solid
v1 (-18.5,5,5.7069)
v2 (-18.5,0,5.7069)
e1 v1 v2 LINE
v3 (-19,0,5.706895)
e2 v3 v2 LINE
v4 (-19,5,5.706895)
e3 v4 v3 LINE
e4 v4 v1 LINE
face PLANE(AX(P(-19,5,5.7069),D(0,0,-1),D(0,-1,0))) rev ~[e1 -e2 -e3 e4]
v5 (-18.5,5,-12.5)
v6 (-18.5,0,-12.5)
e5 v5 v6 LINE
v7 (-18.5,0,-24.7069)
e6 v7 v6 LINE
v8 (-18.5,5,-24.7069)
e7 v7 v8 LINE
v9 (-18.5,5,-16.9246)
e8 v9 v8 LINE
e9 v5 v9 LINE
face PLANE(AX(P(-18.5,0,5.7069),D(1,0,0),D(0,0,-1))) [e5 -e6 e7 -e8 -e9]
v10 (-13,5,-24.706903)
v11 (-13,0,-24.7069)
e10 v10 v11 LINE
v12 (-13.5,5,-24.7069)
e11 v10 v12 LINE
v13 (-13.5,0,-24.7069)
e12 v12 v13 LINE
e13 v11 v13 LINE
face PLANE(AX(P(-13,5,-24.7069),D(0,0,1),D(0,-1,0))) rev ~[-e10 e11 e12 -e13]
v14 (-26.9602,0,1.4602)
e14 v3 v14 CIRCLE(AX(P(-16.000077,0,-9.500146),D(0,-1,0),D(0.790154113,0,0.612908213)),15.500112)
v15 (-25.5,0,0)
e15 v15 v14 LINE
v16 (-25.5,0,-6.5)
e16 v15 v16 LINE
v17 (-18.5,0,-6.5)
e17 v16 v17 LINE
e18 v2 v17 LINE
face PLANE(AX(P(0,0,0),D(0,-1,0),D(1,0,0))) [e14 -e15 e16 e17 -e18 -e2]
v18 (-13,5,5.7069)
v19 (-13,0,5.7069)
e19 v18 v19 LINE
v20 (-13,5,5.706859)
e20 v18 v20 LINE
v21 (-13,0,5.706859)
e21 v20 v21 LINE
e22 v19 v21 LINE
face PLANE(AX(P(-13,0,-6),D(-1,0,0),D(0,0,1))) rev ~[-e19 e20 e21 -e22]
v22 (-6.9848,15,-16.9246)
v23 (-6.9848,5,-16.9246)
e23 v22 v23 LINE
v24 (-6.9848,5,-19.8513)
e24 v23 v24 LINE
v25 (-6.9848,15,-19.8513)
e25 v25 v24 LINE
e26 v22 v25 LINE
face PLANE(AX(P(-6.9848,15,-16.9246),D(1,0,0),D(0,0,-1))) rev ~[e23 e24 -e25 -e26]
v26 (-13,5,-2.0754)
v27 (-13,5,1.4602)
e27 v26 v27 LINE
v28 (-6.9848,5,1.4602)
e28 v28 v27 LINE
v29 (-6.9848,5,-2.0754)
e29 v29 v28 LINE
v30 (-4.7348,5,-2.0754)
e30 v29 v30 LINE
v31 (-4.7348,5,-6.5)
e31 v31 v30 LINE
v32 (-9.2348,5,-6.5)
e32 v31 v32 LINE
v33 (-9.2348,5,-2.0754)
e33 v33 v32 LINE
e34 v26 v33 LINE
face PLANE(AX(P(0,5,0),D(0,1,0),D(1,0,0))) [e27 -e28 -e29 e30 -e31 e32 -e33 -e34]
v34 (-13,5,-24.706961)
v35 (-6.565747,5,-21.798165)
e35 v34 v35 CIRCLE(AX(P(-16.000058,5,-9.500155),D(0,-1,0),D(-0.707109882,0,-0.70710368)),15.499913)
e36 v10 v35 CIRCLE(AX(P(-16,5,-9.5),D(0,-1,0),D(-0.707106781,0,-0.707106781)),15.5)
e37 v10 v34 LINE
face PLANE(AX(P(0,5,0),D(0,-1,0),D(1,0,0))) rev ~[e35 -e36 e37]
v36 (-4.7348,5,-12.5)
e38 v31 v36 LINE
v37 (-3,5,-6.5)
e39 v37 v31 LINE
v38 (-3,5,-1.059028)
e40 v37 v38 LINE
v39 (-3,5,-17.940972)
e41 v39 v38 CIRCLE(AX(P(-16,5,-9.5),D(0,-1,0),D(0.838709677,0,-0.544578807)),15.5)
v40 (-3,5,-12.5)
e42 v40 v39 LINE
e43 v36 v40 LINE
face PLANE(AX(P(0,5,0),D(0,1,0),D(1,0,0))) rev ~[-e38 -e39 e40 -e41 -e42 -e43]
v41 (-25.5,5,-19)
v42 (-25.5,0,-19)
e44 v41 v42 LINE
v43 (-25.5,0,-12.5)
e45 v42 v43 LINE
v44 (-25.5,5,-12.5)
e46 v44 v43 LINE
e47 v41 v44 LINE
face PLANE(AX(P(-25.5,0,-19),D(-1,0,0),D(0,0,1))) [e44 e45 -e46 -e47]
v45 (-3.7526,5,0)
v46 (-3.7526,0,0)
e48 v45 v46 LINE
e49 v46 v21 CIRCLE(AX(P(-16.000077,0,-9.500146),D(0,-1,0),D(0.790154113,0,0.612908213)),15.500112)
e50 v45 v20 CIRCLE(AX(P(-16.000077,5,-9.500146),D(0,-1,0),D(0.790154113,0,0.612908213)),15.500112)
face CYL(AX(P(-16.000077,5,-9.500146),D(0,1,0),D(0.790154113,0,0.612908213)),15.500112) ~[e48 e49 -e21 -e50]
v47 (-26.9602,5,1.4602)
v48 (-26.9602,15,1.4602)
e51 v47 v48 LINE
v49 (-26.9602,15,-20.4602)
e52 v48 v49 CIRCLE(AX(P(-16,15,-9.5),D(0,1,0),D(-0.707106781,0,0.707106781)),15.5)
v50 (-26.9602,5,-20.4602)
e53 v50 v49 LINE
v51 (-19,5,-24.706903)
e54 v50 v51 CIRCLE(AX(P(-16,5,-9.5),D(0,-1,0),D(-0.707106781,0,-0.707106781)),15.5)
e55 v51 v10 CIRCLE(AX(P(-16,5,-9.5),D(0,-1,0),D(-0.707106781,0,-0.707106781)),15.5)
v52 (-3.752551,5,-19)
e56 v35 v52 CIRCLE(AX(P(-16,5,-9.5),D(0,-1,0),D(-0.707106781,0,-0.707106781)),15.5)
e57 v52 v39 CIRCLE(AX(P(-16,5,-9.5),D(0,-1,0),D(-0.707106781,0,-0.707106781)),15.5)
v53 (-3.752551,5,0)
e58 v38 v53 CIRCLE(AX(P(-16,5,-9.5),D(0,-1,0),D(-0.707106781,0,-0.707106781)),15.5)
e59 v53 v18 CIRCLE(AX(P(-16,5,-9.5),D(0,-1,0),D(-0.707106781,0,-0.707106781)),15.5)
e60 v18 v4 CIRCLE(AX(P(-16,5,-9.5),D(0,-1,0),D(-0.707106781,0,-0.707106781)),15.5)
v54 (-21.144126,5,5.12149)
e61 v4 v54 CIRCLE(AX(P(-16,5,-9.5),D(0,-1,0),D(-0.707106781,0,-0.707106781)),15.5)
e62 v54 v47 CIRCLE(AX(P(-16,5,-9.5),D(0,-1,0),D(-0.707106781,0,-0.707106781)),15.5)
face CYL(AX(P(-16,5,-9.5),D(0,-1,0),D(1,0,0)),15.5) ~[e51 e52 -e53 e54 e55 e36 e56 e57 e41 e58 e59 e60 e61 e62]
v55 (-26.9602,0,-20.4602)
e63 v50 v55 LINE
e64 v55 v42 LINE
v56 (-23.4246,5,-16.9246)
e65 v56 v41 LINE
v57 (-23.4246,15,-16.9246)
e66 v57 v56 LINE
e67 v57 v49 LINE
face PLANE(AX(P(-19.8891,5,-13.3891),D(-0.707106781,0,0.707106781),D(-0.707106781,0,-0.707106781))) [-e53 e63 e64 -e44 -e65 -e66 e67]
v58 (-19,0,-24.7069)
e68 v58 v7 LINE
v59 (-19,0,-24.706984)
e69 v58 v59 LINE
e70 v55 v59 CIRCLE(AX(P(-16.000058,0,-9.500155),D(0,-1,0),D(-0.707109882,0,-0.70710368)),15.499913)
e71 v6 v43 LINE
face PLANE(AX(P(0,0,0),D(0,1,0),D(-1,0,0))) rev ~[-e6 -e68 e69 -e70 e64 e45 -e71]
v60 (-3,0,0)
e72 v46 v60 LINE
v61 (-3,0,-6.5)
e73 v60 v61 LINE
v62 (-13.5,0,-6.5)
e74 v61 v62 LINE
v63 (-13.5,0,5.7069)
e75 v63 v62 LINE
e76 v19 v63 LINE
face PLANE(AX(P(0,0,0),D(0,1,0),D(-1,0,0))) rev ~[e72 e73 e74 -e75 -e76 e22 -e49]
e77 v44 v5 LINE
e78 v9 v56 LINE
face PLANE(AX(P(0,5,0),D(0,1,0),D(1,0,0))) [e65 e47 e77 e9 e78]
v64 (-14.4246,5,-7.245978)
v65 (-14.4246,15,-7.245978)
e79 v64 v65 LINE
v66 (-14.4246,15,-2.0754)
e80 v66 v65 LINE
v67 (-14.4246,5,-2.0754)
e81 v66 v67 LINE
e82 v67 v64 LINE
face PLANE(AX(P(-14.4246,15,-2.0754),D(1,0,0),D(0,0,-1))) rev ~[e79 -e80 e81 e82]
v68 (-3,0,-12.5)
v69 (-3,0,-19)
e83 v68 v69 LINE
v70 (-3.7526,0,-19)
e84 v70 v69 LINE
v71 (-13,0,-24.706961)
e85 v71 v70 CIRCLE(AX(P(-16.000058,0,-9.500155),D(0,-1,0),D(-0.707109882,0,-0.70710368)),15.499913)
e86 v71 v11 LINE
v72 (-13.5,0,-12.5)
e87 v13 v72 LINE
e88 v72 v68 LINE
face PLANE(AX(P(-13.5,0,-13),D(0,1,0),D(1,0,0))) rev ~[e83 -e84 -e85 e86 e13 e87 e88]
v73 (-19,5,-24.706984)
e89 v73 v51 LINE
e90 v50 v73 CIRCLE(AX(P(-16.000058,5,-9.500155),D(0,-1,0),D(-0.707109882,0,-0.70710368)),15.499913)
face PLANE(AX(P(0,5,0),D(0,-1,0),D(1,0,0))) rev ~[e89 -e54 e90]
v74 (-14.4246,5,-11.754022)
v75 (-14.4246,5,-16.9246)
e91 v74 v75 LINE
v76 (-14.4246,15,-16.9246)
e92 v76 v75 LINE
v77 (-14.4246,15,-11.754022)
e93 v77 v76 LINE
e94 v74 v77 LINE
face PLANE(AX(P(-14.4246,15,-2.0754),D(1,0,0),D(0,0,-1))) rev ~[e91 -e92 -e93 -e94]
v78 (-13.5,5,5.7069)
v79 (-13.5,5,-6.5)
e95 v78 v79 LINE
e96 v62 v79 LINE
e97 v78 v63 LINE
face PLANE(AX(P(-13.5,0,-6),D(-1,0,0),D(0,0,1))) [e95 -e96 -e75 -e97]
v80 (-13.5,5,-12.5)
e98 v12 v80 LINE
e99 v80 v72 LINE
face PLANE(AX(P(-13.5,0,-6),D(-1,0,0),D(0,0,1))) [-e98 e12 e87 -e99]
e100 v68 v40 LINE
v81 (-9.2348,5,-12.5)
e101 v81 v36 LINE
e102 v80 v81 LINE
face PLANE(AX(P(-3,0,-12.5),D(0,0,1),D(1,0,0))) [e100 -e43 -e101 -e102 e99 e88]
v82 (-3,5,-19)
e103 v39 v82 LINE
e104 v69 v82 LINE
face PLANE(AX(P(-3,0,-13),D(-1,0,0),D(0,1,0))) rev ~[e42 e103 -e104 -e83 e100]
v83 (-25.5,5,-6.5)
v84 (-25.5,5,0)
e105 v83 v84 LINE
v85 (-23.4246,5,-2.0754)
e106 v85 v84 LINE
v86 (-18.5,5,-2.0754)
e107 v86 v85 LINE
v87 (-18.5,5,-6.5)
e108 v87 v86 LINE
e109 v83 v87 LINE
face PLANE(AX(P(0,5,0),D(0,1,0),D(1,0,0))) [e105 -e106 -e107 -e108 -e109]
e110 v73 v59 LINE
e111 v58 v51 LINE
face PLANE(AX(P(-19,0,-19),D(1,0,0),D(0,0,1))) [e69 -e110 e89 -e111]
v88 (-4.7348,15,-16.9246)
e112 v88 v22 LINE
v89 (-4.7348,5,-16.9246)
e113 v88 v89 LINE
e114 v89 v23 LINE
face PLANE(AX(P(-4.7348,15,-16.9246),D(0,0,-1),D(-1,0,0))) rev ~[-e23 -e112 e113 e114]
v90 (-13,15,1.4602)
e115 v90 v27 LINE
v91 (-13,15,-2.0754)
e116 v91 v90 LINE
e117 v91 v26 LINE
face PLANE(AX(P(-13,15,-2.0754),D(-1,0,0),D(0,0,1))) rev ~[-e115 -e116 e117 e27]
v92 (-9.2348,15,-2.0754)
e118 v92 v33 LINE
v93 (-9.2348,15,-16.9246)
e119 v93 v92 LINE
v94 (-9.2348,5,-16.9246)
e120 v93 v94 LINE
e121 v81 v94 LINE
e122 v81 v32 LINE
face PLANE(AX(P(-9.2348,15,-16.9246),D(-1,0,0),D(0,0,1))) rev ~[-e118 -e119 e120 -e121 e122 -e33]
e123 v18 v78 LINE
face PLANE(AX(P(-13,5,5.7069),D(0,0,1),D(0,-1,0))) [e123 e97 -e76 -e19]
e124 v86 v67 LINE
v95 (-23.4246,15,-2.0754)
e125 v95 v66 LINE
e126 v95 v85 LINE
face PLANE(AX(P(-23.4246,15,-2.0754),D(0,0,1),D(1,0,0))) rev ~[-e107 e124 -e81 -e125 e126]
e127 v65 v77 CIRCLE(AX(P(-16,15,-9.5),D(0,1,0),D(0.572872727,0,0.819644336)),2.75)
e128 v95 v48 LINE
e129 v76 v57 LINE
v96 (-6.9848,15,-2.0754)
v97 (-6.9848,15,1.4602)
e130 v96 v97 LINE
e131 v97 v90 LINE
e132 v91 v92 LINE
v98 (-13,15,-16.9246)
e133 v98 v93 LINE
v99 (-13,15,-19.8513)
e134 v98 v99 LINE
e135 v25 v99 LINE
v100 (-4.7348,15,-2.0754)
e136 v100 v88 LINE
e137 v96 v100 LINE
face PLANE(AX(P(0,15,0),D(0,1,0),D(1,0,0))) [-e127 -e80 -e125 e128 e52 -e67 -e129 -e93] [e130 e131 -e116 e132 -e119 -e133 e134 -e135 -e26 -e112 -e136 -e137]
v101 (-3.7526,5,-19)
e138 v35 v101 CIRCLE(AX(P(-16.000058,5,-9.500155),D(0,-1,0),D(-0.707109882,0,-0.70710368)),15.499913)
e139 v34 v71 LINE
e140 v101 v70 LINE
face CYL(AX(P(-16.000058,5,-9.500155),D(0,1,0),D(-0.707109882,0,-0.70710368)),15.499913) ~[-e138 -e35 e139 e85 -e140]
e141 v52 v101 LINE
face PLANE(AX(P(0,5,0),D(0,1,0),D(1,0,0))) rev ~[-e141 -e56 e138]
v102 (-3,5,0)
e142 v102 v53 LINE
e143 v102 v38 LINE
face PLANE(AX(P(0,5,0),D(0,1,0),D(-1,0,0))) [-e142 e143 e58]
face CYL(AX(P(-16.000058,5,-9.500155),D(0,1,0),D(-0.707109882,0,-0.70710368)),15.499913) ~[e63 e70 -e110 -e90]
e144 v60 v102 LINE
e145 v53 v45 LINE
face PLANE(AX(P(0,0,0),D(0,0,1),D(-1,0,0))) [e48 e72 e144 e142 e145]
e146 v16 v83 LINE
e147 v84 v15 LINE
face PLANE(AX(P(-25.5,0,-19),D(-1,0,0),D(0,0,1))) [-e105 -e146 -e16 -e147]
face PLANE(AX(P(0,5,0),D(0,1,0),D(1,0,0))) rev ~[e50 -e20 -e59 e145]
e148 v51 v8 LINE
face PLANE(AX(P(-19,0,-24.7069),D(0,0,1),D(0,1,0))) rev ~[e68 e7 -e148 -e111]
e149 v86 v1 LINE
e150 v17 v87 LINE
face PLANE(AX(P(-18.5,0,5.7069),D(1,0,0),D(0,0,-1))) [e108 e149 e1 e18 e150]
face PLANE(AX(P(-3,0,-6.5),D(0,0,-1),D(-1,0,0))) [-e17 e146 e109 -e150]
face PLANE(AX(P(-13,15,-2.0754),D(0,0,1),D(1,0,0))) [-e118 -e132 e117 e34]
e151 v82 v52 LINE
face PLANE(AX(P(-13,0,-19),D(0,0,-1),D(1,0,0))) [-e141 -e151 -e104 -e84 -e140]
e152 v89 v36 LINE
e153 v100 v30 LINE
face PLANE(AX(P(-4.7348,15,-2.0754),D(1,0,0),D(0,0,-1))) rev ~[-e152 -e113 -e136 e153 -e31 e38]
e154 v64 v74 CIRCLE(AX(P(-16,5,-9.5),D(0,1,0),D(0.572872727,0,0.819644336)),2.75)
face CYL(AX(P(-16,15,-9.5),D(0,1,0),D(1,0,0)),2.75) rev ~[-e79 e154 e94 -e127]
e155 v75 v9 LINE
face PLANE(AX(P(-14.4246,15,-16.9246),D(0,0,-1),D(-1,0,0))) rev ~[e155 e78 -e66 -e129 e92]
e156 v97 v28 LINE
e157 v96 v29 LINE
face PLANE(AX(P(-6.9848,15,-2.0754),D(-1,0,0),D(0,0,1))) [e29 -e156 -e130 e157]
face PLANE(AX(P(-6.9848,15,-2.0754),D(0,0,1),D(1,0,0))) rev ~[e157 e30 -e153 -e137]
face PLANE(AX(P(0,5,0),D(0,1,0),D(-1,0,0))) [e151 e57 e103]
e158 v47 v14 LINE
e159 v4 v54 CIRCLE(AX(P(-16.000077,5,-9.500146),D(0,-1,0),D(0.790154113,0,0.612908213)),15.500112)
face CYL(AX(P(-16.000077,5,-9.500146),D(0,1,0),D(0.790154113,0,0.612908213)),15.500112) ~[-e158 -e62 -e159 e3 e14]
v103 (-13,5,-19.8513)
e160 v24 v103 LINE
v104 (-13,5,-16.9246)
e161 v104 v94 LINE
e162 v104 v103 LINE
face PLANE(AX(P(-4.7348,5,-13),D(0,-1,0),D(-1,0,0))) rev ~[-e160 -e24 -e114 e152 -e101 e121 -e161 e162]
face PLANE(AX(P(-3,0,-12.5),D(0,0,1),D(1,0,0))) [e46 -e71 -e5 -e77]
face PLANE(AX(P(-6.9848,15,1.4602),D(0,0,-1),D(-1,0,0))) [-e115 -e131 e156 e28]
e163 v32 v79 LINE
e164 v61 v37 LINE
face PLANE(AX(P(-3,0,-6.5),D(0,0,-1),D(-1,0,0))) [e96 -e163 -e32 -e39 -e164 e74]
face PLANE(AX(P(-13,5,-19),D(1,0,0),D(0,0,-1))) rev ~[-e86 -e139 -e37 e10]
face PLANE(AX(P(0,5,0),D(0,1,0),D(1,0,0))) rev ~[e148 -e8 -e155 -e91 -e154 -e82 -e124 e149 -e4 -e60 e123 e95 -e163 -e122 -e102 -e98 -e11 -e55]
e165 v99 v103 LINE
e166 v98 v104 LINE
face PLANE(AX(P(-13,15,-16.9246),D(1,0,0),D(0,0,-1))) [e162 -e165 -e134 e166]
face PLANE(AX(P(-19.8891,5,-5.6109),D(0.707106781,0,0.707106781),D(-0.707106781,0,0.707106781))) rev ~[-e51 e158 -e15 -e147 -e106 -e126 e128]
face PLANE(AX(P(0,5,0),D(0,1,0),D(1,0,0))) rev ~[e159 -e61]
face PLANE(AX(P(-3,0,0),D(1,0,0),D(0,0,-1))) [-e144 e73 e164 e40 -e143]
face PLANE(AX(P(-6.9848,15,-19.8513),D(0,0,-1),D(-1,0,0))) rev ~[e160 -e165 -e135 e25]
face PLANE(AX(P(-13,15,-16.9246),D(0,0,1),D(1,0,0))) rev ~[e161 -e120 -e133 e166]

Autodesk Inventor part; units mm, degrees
ref_plane "YZ Plane" through (0, 0, 0) normal (1, 0, 0) x (0, 1, 0)
ref_plane "XZ Plane" through (0, 0, 0) normal (0, 1, 0) x (-1, 0, 0)
ref_plane "XY Plane" through (0, 0, 0) normal (0, 0, 1) x (1, 0, 0)
sketch "Sketch5" plane through (0, 0, 0) normal (0, 1, 0) x (-1, 0, 0)
  line L0 (0, 0) -> (32, 0)
  line L1 (32, 0) -> (32, -19)
  line L2 (32, -19) -> (0, -19)
  line L3 (0, -19) -> (0, 0)
  line L4 (32, -19) -> (19, -19)
  line L5 (19, -19) -> (19, 0)
  line L6 (19, 0) -> (32, 0)
  line L7 (32, 0) -> (32, -19)
  line L8 (0, 0) -> (13, 0)
  line L9 (13, 0) -> (13, -19)
  line L10 (13, -19) -> (0, -19)
  line L11 (0, -19) -> (0, 0)
  line L12 (0, 0) -> (32, 0)
  line L13 (32, 0) -> (32, -6.75)
  line L14 (32, -6.75) -> (0, -6.75)
  line L15 (0, -6.75) -> (0, 0)
  line L16 (0, -19) -> (32, -19)
  line L17 (32, -19) -> (32, -12.25)
  line L18 (32, -12.25) -> (0, -12.25)
  line L19 (0, -12.25) -> (0, -19)
  circle A0 centre (16, -9.5) radius 4
  circle A1 centre (16, -9.5) radius 1
  line L20 (13, 0) -> (19, 0)
  line L21 (19, 0) -> (19, -19)
  line L22 (19, -19) -> (13, -19)
  line L23 (13, -19) -> (13, 0)
  point P0 (13, -12.1458)
  point P1 (13.0953, -12.25)
  point P2 (0, -12.25)
  point P3 (13, -19)
  point P4 (13.0953, -6.75)
  point P5 (13, -6.8542)
  point P6 (19, -6.8542)
  point P7 (18.9047, -6.75)
  point P8 (19, 0)
  point P9 (18.9047, -12.25)
  point P10 (19, -12.1458)
  point P11 (13, -12.25)
  point P12 (13, -6.75)
  point P13 (19, -6.75)
  point P14 (19, -12.25)
  dimension "d13" = 32
  dimension "d14" = 19
  dimension "d15" = 13
  dimension "d16" = 19
  dimension "d17" = 13
  dimension "d18" = 19
  dimension "d19" = 32
  dimension "d20" = 6.75
  dimension "d21" = 32
  dimension "d22" = 6.75
  dimension "d23" = 8
  dimension "d24" = 2
extrude "Extrusion2" add sketch "Sketch5" along normal blind 5 contours L0 L9 L14 L3 | L0 L5 L14 A0 L9 | L14 L9 A0 L18 L3 | L0 L1 L14 L5 | L14 A0 L9 | L18 L9 L2 L3 | L14 L1 L18 L5 A0 | L5 A0 L14 | L9 A0 | A0 L14 | L18 A0 L5 L2 L9 | L9 A0 L18 | A0 L5 | L18 A0 | L1 L2 L5 L18 | L5 L18 A0
sketch "Sketch6" plane through (0, 5, 0) normal (0, 1, 0) x (1, 0, 0)
  arc A0 (-18.9047, 6.75) -> (-19, 6.8542) centre (-16, 9.5) ccw projected
  circle A1 centre (-16, 9.5) radius 15.5
  line L0 (-16, 9.5) -> (-26.9602, 20.4602)
  line L1 (-16, 9.5) -> (-0.5, 9.5) construction
  line L2 (-16, 9.5) -> (-26.9602, -1.4602)
  line L3 (-16, 9.5) -> (-0.5, 9.5) construction
  line L4 (-26.9602, -1.4602) -> (-19.8891, 5.6109)
  line L5 (-19.8891, 5.6109) -> (-19.8891, 13.3891)
  circle A2 centre (-16, 9.5) radius 1
  point P0 (0, 0)
  dimension "d27" = 31
  dimension "d28" = 135
  dimension "d29" = 135
  dimension "d30" = 10
  dimension "d33" = 2
extrude "Extrusion3" add sketch "Sketch6" along normal blind 10 contours L2 A2 L0 A0 | L2 L5 A0 L0 A2 | A0 L0 A1 L2 | A0 L5 L0
sketch "Sketch7" plane through (0, 15, 0) normal (0, 1, 0) x (1, 0, 0)
  circle A0 centre (-16, 9.5) radius 1 projected
  circle A1 centre (-16, 9.5) radius 2.75
  point P0 (0, 0)
  dimension "d34" = 5.5
extrude "Extrusion4" cut sketch "Sketch7" against normal blind 10
sketch "Sketch8" plane through (0, 0, 0) normal (0, -1, 0) x (1, 0, 0)
  point P0 (0, 0)
sketch "Sketch9" plane through (0, 0, 0) normal (0, -1, 0) x (1, 0, 0)
  arc A0 (-3.7526, -19) -> (-3.7526, 0) centre (-16, -9.5) ccw projected
  point P0 (0, 0)
sketch "Sketch10" plane through (0, 0, 0) normal (0, -1, 0) x (1, 0, 0)
  line L0 (-32, 0) -> (-25.5, 0) projected
  line L1 (-32, 0) -> (-19, 0)
  line L2 (-19, 0) -> (-19, -6)
  line L3 (-19, -6) -> (-32, -6)
  line L4 (-32, -6) -> (-32, 0)
  line L5 (-32, -19) -> (-32, 0) projected
  line L6 (-32, -19) -> (-19, -19)
  line L7 (-19, -19) -> (-19, -13)
  line L8 (-19, -13) -> (-32, -13)
  line L9 (-32, -13) -> (-32, -19)
  line L10 (0, 0) -> (-13, 0)
  line L11 (-13, 0) -> (-13, -6)
  line L12 (-13, -6) -> (0, -6)
  line L13 (0, -6) -> (0, 0)
  line L14 (0, -19) -> (-3.7526, -19) projected
  line L15 (0, -19) -> (-13, -19)
  line L16 (-13, -19) -> (-13, -13)
  line L17 (-13, -13) -> (0, -13)
  line L18 (0, -13) -> (0, -19)
  line L19 (-19, -6) -> (-13, -6)
  line L20 (-13, -6) -> (-13, -13)
  line L21 (-13, -13) -> (-19, -13)
  line L22 (-19, -13) -> (-19, -6)
  line L23 (-19, 0) -> (-13, 0)
  line L24 (-13, 0) -> (-13, -6)
  line L25 (-13, -6) -> (-19, -6)
  line L26 (-19, -6) -> (-19, 0)
  line L27 (-13, -13) -> (-19, -13)
  line L28 (-19, -13) -> (-19, -19)
  line L29 (-19, -19) -> (-13, -19)
  line L30 (-13, -19) -> (-13, -13)
  line L31 (-32, -13) -> (-19, -13)
  line L32 (-19, -13) -> (-19, -6)
  line L33 (-19, -6) -> (-32, -6)
  line L34 (-32, -6) -> (-32, -13)
  line L35 (-13, -6) -> (0, -6)
  line L36 (0, -6) -> (0, -13)
  line L37 (0, -13) -> (-13, -13)
  line L38 (-13, -13) -> (-13, -6)
  point P0 (0, -6)
  dimension "d37" = 13
  dimension "d38" = 6
  dimension "d39" = 6
  dimension "d40" = 13
  dimension "d41" = 6
  dimension "d42" = 13
  dimension "d43" = 6
extrude "Extrusion5" cut sketch "Sketch10" against normal blind 5 contours L3 L22 L8 L5 | L23 L11 L19 L2 | L19 L20 L21 L22 | L12 L36 L17 L20 | L21 L16 L29 L7
sketch "Sketch11" plane through (0, 5, 0) normal (0, -1, 0) x (1, 0, 0)
  arc A0 (-3.7526, 0) -> (-26.9602, 1.4602) centre (-16, -9.5) ccw projected
  arc A1 (-26.9602, -20.4602) -> (-3.7526, -19) centre (-16, -9.5) ccw projected
  line L0 (-25.5, 0) -> (-26.9602, 1.4602) projected
  line L1 (-26.9602, -20.4602) -> (-25.5, -19) projected
  line L2 (-13, 0) -> (-3.7526, 0) projected
  line L3 (-19, -13) -> (-19.8891, -13) projected
  line L4 (-13, -13) -> (-13, -19) projected
  line L5 (-25.5, 0) -> (-19, 0) projected
  line L6 (-25.5, 0) -> (-3.7526, 0)
  line L7 (-19, -19) -> (-32, -19) projected
  line L8 (-19, -19) -> (-19, -13) projected
  line L9 (0, -19) -> (-13, -19) projected
  line L10 (-13, -13) -> (-13, -19) projected
  line L11 (-19.8891, -13.3891) -> (-25.5, -19) projected
  line L12 (-25.5, -19) -> (-3.7526, -19)
  line L13 (-19, 0) -> (-13, 0)
  line L14 (-13, 0) -> (-13, 7)
  line L15 (-13, 7) -> (-19, 7)
  line L16 (-19, 7) -> (-19, 0)
  line L17 (-19, -13) -> (-13, -13)
  line L18 (-13, -13) -> (-13, -25.2796)
  line L19 (-13, -25.2796) -> (-19, -25.2796)
  line L20 (-19, -25.2796) -> (-19, -13)
  point P0 (0, 0)
  point P1 (-19, -24.7069)
  point P2 (-13, -24.7069)
  point P3 (-13, 5.7069)
  point P4 (-19, 5.7069)
  dimension "d47" = 7
extrude "Extrusion6" add sketch "Sketch11" along normal blind 5 contours L2 L14 A0 | L16 L5 L0 A0 | L1 L7 L20 A1 | L18 L9 A1
sketch "Sketch12" plane through (0, 15, 0) normal (0, 1, 0) x (1, 0, 0)
  point P0 (0, 0)
sketch "Sketch14" plane through (0, 0, 0) normal (1, 0, 0) x (0, 0, -1)
  line L0 (0, 5) -> (6, 5) projected
  line L1 (6, 0) -> (6, 5) projected
  line L2 (0, 0) -> (6, 0) projected
  line L3 (0, 0) -> (0, 5) projected
  line L4 (13, 5) -> (13, 0) projected
  line L5 (13, 0) -> (19, 0) projected
  line L6 (19, 0) -> (19, 5) projected
  line L7 (13, 5) -> (19, 5) projected
  line L8 (-5.7069, 0) -> (6, 0) projected
  line L9 (0, 5) -> (6, 5)
  line L10 (6, 5) -> (6, 0)
  line L11 (6, 0) -> (0, 0)
  line L12 (0, 0) -> (0, 5)
  line L13 (13, 0) -> (24.7069, 0) projected
  line L14 (13, 0) -> (19, 0)
  line L15 (19, 0) -> (19, 5)
  line L16 (19, 5) -> (13, 5)
  line L17 (13, 5) -> (13, 0)
extrude "Extrusion8" cut sketch "Sketch14" against normal blind 3
sketch "Sketch16" plane through (-32, 0, -19) normal (-1, 0, 0) x (0, 0, 1)
  line L0 (0, 5) -> (6, 5) projected
  line L1 (0, 0) -> (0, 5) projected
  line L2 (0, 0) -> (6, 0) projected
  line L3 (6, 0) -> (6, 5) projected
  line L4 (13, 0) -> (19, 0) projected
  line L5 (13, 5) -> (13, 0) projected
  line L6 (13, 5) -> (19, 5) projected
  line L7 (19, 0) -> (19, 5) projected
  line L8 (0, 5) -> (0, 0) projected
  line L9 (6, 0) -> (6, 5) projected
  line L10 (0, 5) -> (6, 5)
  line L11 (6, 5) -> (6, 0)
  line L12 (6, 0) -> (0, 0)
  line L13 (0, 0) -> (0, 5)
  line L14 (13, 0) -> (13, 5) projected
  line L15 (19, 0) -> (19, 5) projected
  line L16 (13, 0) -> (19, 0)
  line L17 (19, 0) -> (19, 5)
  line L18 (19, 5) -> (13, 5)
  line L19 (13, 5) -> (13, 0)
extrude "Extrusion9" cut sketch "Sketch16" against normal blind 6.5
sketch "Sketch18" plane through (0, 15, 0) normal (0, 1, 0) x (1, 0, 0)
  line L0 (-19.8891, 5.6109) -> (-26.9602, -1.4602) projected
  line L1 (-26.9602, 20.4602) -> (-19.8891, 13.3891) projected
  line L2 (-23.4246, 2.0754) -> (-14.4246, 2.0754)
  line L3 (-14.4246, 2.0754) -> (-14.4246, 16.9246)
  line L4 (-14.4246, 16.9246) -> (-23.4246, 16.9246)
  line L5 (-23.4246, 16.9246) -> (-23.4246, 2.0754)
  line L6 (-9.2348, 2.0754) -> (-4.7348, 2.0754)
  line L7 (-4.7348, 2.0754) -> (-4.7348, 16.9246)
  line L8 (-4.7348, 16.9246) -> (-9.2348, 16.9246)
  line L9 (-9.2348, 16.9246) -> (-9.2348, 2.0754)
  line L10 (-13, 6) -> (-13, -5.7069) projected
  line L11 (-6.9848, -1.4602) -> (-13, -1.4602)
  line L12 (-13, -1.4602) -> (-13, 2.0754)
  line L13 (-13, 2.0754) -> (-6.9848, 2.0754)
  line L14 (-6.9848, 2.0754) -> (-6.9848, -1.4602)
  line L15 (-13, 13) -> (-13, 24.7069) projected
  line L16 (-6.9848, 19.8513) -> (-13, 19.8513)
  line L17 (-13, 19.8513) -> (-13, 16.9246)
  line L18 (-13, 16.9246) -> (-6.9848, 16.9246)
  line L19 (-6.9848, 16.9246) -> (-6.9848, 19.8513)
  point P0 (0, 0)
  dimension "d79" = 9
  dimension "d80" = 4.5
extrude "Extrusion12" cut sketch "Sketch18" against normal blind 10
sketch "Sketch19" plane through (-13, 0, -6) normal (-1, 0, 0) x (0, 0, 1)
  line L0 (11.7069, 5) -> (11.7069, 0) projected
  line L1 (11.7069, 0) -> (0, 0) projected
  line L2 (11.7069, 5) -> (0, 5)
  line L3 (0, 5) -> (0, 0)
  line L4 (0, 0) -> (11.7069, 0)
  line L5 (11.7069, 0) -> (11.7069, 5)
  line L6 (-7, 0) -> (-7, 5) projected
  line L7 (-7, 0) -> (-18.7069, 0) projected
  line L8 (-18.7069, 5) -> (-18.7069, 0) projected
  line L9 (-7, 5) -> (-10.9246, 5) projected
  line L10 (-7, 5) -> (-18.7069, 5)
  line L11 (-18.7069, 5) -> (-18.7069, 0)
  line L12 (-18.7069, 0) -> (-7, 0)
  line L13 (-7, 0) -> (-7, 5)
  point P0 (6, 0)
sketch "Sketch20" plane through (-19, 0, 5.7069) normal (1, 0, 0) x (0, 0, -1)
  line L0 (11.7069, 0) -> (0, 0) projected
  line L1 (11.7069, 0) -> (11.7069, 5) projected
  line L2 (0, 0) -> (11.7069, 0)
  line L3 (11.7069, 0) -> (11.7069, 5)
  line L4 (11.7069, 5) -> (0, 5)
  line L5 (0, 5) -> (0, 0)
  line L6 (18.7069, 0) -> (18.7069, 5) projected
  line L7 (22.6315, 5) -> (30.4138, 5) projected
  line L8 (18.7069, 0) -> (30.4138, 0)
  line L9 (30.4138, 0) -> (30.4138, 5)
  line L10 (30.4138, 5) -> (18.7069, 5)
  line L11 (18.7069, 5) -> (18.7069, 0)
  point P0 (5.7069, 0)
  point P1 (18.7069, 5)
extrude "Extrusion13" add sketch "Sketch19" along normal blind 0.5
extrude "Extrusion14" add sketch "Sketch20" along normal blind 0.5
sketch "Sketch23" plane through (-3, 0, -13) normal (0, 0, 1) x (1, 0, 0)
  line L0 (0, 5) -> (-1.7348, 5) projected
  line L1 (0, 5) -> (-10.5, 5)
  line L2 (-10.5, 5) -> (-10.5, 0)
  line L3 (-10.5, 0) -> (0, 0)
  line L4 (0, 0) -> (0, 5)
  line L5 (-15.5, 0) -> (-22.5, 0) projected
  line L6 (-22.5, 5) -> (-22.5, 0) projected
  line L7 (-15.5, 0) -> (-22.5, 0)
  line L8 (-22.5, 0) -> (-22.5, 5)
  line L9 (-22.5, 5) -> (-15.5, 5)
  line L10 (-15.5, 5) -> (-15.5, 0)
  point P0 (3, 0)
sketch "Sketch24" plane through (-3, 0, -6) normal (0, 0, -1) x (-1, 0, 0)
  line L0 (0, 0) -> (0, 5) projected
  line L1 (10.5, 5) -> (6.2348, 5) projected
  line L2 (0, 0) -> (10.5, 0)
  line L3 (10.5, 0) -> (10.5, 5)
  line L4 (10.5, 5) -> (0, 5)
  line L5 (0, 5) -> (0, 0)
  line L6 (22.5, 5) -> (15.5, 5) projected
  line L7 (22.5, 0) -> (22.5, 5) projected
  line L8 (15.5, 5) -> (22.5, 5)
  line L9 (22.5, 5) -> (22.5, 0)
  line L10 (22.5, 0) -> (15.5, 0)
  line L11 (15.5, 0) -> (15.5, 5)
  point P0 (-3, 0)
extrude "Extrusion15" add sketch "Sketch24" along normal blind 0.5
extrude "Extrusion16" add sketch "Sketch23" along normal blind 0.5
properties part number "ServoUtmater_3DPrint"
